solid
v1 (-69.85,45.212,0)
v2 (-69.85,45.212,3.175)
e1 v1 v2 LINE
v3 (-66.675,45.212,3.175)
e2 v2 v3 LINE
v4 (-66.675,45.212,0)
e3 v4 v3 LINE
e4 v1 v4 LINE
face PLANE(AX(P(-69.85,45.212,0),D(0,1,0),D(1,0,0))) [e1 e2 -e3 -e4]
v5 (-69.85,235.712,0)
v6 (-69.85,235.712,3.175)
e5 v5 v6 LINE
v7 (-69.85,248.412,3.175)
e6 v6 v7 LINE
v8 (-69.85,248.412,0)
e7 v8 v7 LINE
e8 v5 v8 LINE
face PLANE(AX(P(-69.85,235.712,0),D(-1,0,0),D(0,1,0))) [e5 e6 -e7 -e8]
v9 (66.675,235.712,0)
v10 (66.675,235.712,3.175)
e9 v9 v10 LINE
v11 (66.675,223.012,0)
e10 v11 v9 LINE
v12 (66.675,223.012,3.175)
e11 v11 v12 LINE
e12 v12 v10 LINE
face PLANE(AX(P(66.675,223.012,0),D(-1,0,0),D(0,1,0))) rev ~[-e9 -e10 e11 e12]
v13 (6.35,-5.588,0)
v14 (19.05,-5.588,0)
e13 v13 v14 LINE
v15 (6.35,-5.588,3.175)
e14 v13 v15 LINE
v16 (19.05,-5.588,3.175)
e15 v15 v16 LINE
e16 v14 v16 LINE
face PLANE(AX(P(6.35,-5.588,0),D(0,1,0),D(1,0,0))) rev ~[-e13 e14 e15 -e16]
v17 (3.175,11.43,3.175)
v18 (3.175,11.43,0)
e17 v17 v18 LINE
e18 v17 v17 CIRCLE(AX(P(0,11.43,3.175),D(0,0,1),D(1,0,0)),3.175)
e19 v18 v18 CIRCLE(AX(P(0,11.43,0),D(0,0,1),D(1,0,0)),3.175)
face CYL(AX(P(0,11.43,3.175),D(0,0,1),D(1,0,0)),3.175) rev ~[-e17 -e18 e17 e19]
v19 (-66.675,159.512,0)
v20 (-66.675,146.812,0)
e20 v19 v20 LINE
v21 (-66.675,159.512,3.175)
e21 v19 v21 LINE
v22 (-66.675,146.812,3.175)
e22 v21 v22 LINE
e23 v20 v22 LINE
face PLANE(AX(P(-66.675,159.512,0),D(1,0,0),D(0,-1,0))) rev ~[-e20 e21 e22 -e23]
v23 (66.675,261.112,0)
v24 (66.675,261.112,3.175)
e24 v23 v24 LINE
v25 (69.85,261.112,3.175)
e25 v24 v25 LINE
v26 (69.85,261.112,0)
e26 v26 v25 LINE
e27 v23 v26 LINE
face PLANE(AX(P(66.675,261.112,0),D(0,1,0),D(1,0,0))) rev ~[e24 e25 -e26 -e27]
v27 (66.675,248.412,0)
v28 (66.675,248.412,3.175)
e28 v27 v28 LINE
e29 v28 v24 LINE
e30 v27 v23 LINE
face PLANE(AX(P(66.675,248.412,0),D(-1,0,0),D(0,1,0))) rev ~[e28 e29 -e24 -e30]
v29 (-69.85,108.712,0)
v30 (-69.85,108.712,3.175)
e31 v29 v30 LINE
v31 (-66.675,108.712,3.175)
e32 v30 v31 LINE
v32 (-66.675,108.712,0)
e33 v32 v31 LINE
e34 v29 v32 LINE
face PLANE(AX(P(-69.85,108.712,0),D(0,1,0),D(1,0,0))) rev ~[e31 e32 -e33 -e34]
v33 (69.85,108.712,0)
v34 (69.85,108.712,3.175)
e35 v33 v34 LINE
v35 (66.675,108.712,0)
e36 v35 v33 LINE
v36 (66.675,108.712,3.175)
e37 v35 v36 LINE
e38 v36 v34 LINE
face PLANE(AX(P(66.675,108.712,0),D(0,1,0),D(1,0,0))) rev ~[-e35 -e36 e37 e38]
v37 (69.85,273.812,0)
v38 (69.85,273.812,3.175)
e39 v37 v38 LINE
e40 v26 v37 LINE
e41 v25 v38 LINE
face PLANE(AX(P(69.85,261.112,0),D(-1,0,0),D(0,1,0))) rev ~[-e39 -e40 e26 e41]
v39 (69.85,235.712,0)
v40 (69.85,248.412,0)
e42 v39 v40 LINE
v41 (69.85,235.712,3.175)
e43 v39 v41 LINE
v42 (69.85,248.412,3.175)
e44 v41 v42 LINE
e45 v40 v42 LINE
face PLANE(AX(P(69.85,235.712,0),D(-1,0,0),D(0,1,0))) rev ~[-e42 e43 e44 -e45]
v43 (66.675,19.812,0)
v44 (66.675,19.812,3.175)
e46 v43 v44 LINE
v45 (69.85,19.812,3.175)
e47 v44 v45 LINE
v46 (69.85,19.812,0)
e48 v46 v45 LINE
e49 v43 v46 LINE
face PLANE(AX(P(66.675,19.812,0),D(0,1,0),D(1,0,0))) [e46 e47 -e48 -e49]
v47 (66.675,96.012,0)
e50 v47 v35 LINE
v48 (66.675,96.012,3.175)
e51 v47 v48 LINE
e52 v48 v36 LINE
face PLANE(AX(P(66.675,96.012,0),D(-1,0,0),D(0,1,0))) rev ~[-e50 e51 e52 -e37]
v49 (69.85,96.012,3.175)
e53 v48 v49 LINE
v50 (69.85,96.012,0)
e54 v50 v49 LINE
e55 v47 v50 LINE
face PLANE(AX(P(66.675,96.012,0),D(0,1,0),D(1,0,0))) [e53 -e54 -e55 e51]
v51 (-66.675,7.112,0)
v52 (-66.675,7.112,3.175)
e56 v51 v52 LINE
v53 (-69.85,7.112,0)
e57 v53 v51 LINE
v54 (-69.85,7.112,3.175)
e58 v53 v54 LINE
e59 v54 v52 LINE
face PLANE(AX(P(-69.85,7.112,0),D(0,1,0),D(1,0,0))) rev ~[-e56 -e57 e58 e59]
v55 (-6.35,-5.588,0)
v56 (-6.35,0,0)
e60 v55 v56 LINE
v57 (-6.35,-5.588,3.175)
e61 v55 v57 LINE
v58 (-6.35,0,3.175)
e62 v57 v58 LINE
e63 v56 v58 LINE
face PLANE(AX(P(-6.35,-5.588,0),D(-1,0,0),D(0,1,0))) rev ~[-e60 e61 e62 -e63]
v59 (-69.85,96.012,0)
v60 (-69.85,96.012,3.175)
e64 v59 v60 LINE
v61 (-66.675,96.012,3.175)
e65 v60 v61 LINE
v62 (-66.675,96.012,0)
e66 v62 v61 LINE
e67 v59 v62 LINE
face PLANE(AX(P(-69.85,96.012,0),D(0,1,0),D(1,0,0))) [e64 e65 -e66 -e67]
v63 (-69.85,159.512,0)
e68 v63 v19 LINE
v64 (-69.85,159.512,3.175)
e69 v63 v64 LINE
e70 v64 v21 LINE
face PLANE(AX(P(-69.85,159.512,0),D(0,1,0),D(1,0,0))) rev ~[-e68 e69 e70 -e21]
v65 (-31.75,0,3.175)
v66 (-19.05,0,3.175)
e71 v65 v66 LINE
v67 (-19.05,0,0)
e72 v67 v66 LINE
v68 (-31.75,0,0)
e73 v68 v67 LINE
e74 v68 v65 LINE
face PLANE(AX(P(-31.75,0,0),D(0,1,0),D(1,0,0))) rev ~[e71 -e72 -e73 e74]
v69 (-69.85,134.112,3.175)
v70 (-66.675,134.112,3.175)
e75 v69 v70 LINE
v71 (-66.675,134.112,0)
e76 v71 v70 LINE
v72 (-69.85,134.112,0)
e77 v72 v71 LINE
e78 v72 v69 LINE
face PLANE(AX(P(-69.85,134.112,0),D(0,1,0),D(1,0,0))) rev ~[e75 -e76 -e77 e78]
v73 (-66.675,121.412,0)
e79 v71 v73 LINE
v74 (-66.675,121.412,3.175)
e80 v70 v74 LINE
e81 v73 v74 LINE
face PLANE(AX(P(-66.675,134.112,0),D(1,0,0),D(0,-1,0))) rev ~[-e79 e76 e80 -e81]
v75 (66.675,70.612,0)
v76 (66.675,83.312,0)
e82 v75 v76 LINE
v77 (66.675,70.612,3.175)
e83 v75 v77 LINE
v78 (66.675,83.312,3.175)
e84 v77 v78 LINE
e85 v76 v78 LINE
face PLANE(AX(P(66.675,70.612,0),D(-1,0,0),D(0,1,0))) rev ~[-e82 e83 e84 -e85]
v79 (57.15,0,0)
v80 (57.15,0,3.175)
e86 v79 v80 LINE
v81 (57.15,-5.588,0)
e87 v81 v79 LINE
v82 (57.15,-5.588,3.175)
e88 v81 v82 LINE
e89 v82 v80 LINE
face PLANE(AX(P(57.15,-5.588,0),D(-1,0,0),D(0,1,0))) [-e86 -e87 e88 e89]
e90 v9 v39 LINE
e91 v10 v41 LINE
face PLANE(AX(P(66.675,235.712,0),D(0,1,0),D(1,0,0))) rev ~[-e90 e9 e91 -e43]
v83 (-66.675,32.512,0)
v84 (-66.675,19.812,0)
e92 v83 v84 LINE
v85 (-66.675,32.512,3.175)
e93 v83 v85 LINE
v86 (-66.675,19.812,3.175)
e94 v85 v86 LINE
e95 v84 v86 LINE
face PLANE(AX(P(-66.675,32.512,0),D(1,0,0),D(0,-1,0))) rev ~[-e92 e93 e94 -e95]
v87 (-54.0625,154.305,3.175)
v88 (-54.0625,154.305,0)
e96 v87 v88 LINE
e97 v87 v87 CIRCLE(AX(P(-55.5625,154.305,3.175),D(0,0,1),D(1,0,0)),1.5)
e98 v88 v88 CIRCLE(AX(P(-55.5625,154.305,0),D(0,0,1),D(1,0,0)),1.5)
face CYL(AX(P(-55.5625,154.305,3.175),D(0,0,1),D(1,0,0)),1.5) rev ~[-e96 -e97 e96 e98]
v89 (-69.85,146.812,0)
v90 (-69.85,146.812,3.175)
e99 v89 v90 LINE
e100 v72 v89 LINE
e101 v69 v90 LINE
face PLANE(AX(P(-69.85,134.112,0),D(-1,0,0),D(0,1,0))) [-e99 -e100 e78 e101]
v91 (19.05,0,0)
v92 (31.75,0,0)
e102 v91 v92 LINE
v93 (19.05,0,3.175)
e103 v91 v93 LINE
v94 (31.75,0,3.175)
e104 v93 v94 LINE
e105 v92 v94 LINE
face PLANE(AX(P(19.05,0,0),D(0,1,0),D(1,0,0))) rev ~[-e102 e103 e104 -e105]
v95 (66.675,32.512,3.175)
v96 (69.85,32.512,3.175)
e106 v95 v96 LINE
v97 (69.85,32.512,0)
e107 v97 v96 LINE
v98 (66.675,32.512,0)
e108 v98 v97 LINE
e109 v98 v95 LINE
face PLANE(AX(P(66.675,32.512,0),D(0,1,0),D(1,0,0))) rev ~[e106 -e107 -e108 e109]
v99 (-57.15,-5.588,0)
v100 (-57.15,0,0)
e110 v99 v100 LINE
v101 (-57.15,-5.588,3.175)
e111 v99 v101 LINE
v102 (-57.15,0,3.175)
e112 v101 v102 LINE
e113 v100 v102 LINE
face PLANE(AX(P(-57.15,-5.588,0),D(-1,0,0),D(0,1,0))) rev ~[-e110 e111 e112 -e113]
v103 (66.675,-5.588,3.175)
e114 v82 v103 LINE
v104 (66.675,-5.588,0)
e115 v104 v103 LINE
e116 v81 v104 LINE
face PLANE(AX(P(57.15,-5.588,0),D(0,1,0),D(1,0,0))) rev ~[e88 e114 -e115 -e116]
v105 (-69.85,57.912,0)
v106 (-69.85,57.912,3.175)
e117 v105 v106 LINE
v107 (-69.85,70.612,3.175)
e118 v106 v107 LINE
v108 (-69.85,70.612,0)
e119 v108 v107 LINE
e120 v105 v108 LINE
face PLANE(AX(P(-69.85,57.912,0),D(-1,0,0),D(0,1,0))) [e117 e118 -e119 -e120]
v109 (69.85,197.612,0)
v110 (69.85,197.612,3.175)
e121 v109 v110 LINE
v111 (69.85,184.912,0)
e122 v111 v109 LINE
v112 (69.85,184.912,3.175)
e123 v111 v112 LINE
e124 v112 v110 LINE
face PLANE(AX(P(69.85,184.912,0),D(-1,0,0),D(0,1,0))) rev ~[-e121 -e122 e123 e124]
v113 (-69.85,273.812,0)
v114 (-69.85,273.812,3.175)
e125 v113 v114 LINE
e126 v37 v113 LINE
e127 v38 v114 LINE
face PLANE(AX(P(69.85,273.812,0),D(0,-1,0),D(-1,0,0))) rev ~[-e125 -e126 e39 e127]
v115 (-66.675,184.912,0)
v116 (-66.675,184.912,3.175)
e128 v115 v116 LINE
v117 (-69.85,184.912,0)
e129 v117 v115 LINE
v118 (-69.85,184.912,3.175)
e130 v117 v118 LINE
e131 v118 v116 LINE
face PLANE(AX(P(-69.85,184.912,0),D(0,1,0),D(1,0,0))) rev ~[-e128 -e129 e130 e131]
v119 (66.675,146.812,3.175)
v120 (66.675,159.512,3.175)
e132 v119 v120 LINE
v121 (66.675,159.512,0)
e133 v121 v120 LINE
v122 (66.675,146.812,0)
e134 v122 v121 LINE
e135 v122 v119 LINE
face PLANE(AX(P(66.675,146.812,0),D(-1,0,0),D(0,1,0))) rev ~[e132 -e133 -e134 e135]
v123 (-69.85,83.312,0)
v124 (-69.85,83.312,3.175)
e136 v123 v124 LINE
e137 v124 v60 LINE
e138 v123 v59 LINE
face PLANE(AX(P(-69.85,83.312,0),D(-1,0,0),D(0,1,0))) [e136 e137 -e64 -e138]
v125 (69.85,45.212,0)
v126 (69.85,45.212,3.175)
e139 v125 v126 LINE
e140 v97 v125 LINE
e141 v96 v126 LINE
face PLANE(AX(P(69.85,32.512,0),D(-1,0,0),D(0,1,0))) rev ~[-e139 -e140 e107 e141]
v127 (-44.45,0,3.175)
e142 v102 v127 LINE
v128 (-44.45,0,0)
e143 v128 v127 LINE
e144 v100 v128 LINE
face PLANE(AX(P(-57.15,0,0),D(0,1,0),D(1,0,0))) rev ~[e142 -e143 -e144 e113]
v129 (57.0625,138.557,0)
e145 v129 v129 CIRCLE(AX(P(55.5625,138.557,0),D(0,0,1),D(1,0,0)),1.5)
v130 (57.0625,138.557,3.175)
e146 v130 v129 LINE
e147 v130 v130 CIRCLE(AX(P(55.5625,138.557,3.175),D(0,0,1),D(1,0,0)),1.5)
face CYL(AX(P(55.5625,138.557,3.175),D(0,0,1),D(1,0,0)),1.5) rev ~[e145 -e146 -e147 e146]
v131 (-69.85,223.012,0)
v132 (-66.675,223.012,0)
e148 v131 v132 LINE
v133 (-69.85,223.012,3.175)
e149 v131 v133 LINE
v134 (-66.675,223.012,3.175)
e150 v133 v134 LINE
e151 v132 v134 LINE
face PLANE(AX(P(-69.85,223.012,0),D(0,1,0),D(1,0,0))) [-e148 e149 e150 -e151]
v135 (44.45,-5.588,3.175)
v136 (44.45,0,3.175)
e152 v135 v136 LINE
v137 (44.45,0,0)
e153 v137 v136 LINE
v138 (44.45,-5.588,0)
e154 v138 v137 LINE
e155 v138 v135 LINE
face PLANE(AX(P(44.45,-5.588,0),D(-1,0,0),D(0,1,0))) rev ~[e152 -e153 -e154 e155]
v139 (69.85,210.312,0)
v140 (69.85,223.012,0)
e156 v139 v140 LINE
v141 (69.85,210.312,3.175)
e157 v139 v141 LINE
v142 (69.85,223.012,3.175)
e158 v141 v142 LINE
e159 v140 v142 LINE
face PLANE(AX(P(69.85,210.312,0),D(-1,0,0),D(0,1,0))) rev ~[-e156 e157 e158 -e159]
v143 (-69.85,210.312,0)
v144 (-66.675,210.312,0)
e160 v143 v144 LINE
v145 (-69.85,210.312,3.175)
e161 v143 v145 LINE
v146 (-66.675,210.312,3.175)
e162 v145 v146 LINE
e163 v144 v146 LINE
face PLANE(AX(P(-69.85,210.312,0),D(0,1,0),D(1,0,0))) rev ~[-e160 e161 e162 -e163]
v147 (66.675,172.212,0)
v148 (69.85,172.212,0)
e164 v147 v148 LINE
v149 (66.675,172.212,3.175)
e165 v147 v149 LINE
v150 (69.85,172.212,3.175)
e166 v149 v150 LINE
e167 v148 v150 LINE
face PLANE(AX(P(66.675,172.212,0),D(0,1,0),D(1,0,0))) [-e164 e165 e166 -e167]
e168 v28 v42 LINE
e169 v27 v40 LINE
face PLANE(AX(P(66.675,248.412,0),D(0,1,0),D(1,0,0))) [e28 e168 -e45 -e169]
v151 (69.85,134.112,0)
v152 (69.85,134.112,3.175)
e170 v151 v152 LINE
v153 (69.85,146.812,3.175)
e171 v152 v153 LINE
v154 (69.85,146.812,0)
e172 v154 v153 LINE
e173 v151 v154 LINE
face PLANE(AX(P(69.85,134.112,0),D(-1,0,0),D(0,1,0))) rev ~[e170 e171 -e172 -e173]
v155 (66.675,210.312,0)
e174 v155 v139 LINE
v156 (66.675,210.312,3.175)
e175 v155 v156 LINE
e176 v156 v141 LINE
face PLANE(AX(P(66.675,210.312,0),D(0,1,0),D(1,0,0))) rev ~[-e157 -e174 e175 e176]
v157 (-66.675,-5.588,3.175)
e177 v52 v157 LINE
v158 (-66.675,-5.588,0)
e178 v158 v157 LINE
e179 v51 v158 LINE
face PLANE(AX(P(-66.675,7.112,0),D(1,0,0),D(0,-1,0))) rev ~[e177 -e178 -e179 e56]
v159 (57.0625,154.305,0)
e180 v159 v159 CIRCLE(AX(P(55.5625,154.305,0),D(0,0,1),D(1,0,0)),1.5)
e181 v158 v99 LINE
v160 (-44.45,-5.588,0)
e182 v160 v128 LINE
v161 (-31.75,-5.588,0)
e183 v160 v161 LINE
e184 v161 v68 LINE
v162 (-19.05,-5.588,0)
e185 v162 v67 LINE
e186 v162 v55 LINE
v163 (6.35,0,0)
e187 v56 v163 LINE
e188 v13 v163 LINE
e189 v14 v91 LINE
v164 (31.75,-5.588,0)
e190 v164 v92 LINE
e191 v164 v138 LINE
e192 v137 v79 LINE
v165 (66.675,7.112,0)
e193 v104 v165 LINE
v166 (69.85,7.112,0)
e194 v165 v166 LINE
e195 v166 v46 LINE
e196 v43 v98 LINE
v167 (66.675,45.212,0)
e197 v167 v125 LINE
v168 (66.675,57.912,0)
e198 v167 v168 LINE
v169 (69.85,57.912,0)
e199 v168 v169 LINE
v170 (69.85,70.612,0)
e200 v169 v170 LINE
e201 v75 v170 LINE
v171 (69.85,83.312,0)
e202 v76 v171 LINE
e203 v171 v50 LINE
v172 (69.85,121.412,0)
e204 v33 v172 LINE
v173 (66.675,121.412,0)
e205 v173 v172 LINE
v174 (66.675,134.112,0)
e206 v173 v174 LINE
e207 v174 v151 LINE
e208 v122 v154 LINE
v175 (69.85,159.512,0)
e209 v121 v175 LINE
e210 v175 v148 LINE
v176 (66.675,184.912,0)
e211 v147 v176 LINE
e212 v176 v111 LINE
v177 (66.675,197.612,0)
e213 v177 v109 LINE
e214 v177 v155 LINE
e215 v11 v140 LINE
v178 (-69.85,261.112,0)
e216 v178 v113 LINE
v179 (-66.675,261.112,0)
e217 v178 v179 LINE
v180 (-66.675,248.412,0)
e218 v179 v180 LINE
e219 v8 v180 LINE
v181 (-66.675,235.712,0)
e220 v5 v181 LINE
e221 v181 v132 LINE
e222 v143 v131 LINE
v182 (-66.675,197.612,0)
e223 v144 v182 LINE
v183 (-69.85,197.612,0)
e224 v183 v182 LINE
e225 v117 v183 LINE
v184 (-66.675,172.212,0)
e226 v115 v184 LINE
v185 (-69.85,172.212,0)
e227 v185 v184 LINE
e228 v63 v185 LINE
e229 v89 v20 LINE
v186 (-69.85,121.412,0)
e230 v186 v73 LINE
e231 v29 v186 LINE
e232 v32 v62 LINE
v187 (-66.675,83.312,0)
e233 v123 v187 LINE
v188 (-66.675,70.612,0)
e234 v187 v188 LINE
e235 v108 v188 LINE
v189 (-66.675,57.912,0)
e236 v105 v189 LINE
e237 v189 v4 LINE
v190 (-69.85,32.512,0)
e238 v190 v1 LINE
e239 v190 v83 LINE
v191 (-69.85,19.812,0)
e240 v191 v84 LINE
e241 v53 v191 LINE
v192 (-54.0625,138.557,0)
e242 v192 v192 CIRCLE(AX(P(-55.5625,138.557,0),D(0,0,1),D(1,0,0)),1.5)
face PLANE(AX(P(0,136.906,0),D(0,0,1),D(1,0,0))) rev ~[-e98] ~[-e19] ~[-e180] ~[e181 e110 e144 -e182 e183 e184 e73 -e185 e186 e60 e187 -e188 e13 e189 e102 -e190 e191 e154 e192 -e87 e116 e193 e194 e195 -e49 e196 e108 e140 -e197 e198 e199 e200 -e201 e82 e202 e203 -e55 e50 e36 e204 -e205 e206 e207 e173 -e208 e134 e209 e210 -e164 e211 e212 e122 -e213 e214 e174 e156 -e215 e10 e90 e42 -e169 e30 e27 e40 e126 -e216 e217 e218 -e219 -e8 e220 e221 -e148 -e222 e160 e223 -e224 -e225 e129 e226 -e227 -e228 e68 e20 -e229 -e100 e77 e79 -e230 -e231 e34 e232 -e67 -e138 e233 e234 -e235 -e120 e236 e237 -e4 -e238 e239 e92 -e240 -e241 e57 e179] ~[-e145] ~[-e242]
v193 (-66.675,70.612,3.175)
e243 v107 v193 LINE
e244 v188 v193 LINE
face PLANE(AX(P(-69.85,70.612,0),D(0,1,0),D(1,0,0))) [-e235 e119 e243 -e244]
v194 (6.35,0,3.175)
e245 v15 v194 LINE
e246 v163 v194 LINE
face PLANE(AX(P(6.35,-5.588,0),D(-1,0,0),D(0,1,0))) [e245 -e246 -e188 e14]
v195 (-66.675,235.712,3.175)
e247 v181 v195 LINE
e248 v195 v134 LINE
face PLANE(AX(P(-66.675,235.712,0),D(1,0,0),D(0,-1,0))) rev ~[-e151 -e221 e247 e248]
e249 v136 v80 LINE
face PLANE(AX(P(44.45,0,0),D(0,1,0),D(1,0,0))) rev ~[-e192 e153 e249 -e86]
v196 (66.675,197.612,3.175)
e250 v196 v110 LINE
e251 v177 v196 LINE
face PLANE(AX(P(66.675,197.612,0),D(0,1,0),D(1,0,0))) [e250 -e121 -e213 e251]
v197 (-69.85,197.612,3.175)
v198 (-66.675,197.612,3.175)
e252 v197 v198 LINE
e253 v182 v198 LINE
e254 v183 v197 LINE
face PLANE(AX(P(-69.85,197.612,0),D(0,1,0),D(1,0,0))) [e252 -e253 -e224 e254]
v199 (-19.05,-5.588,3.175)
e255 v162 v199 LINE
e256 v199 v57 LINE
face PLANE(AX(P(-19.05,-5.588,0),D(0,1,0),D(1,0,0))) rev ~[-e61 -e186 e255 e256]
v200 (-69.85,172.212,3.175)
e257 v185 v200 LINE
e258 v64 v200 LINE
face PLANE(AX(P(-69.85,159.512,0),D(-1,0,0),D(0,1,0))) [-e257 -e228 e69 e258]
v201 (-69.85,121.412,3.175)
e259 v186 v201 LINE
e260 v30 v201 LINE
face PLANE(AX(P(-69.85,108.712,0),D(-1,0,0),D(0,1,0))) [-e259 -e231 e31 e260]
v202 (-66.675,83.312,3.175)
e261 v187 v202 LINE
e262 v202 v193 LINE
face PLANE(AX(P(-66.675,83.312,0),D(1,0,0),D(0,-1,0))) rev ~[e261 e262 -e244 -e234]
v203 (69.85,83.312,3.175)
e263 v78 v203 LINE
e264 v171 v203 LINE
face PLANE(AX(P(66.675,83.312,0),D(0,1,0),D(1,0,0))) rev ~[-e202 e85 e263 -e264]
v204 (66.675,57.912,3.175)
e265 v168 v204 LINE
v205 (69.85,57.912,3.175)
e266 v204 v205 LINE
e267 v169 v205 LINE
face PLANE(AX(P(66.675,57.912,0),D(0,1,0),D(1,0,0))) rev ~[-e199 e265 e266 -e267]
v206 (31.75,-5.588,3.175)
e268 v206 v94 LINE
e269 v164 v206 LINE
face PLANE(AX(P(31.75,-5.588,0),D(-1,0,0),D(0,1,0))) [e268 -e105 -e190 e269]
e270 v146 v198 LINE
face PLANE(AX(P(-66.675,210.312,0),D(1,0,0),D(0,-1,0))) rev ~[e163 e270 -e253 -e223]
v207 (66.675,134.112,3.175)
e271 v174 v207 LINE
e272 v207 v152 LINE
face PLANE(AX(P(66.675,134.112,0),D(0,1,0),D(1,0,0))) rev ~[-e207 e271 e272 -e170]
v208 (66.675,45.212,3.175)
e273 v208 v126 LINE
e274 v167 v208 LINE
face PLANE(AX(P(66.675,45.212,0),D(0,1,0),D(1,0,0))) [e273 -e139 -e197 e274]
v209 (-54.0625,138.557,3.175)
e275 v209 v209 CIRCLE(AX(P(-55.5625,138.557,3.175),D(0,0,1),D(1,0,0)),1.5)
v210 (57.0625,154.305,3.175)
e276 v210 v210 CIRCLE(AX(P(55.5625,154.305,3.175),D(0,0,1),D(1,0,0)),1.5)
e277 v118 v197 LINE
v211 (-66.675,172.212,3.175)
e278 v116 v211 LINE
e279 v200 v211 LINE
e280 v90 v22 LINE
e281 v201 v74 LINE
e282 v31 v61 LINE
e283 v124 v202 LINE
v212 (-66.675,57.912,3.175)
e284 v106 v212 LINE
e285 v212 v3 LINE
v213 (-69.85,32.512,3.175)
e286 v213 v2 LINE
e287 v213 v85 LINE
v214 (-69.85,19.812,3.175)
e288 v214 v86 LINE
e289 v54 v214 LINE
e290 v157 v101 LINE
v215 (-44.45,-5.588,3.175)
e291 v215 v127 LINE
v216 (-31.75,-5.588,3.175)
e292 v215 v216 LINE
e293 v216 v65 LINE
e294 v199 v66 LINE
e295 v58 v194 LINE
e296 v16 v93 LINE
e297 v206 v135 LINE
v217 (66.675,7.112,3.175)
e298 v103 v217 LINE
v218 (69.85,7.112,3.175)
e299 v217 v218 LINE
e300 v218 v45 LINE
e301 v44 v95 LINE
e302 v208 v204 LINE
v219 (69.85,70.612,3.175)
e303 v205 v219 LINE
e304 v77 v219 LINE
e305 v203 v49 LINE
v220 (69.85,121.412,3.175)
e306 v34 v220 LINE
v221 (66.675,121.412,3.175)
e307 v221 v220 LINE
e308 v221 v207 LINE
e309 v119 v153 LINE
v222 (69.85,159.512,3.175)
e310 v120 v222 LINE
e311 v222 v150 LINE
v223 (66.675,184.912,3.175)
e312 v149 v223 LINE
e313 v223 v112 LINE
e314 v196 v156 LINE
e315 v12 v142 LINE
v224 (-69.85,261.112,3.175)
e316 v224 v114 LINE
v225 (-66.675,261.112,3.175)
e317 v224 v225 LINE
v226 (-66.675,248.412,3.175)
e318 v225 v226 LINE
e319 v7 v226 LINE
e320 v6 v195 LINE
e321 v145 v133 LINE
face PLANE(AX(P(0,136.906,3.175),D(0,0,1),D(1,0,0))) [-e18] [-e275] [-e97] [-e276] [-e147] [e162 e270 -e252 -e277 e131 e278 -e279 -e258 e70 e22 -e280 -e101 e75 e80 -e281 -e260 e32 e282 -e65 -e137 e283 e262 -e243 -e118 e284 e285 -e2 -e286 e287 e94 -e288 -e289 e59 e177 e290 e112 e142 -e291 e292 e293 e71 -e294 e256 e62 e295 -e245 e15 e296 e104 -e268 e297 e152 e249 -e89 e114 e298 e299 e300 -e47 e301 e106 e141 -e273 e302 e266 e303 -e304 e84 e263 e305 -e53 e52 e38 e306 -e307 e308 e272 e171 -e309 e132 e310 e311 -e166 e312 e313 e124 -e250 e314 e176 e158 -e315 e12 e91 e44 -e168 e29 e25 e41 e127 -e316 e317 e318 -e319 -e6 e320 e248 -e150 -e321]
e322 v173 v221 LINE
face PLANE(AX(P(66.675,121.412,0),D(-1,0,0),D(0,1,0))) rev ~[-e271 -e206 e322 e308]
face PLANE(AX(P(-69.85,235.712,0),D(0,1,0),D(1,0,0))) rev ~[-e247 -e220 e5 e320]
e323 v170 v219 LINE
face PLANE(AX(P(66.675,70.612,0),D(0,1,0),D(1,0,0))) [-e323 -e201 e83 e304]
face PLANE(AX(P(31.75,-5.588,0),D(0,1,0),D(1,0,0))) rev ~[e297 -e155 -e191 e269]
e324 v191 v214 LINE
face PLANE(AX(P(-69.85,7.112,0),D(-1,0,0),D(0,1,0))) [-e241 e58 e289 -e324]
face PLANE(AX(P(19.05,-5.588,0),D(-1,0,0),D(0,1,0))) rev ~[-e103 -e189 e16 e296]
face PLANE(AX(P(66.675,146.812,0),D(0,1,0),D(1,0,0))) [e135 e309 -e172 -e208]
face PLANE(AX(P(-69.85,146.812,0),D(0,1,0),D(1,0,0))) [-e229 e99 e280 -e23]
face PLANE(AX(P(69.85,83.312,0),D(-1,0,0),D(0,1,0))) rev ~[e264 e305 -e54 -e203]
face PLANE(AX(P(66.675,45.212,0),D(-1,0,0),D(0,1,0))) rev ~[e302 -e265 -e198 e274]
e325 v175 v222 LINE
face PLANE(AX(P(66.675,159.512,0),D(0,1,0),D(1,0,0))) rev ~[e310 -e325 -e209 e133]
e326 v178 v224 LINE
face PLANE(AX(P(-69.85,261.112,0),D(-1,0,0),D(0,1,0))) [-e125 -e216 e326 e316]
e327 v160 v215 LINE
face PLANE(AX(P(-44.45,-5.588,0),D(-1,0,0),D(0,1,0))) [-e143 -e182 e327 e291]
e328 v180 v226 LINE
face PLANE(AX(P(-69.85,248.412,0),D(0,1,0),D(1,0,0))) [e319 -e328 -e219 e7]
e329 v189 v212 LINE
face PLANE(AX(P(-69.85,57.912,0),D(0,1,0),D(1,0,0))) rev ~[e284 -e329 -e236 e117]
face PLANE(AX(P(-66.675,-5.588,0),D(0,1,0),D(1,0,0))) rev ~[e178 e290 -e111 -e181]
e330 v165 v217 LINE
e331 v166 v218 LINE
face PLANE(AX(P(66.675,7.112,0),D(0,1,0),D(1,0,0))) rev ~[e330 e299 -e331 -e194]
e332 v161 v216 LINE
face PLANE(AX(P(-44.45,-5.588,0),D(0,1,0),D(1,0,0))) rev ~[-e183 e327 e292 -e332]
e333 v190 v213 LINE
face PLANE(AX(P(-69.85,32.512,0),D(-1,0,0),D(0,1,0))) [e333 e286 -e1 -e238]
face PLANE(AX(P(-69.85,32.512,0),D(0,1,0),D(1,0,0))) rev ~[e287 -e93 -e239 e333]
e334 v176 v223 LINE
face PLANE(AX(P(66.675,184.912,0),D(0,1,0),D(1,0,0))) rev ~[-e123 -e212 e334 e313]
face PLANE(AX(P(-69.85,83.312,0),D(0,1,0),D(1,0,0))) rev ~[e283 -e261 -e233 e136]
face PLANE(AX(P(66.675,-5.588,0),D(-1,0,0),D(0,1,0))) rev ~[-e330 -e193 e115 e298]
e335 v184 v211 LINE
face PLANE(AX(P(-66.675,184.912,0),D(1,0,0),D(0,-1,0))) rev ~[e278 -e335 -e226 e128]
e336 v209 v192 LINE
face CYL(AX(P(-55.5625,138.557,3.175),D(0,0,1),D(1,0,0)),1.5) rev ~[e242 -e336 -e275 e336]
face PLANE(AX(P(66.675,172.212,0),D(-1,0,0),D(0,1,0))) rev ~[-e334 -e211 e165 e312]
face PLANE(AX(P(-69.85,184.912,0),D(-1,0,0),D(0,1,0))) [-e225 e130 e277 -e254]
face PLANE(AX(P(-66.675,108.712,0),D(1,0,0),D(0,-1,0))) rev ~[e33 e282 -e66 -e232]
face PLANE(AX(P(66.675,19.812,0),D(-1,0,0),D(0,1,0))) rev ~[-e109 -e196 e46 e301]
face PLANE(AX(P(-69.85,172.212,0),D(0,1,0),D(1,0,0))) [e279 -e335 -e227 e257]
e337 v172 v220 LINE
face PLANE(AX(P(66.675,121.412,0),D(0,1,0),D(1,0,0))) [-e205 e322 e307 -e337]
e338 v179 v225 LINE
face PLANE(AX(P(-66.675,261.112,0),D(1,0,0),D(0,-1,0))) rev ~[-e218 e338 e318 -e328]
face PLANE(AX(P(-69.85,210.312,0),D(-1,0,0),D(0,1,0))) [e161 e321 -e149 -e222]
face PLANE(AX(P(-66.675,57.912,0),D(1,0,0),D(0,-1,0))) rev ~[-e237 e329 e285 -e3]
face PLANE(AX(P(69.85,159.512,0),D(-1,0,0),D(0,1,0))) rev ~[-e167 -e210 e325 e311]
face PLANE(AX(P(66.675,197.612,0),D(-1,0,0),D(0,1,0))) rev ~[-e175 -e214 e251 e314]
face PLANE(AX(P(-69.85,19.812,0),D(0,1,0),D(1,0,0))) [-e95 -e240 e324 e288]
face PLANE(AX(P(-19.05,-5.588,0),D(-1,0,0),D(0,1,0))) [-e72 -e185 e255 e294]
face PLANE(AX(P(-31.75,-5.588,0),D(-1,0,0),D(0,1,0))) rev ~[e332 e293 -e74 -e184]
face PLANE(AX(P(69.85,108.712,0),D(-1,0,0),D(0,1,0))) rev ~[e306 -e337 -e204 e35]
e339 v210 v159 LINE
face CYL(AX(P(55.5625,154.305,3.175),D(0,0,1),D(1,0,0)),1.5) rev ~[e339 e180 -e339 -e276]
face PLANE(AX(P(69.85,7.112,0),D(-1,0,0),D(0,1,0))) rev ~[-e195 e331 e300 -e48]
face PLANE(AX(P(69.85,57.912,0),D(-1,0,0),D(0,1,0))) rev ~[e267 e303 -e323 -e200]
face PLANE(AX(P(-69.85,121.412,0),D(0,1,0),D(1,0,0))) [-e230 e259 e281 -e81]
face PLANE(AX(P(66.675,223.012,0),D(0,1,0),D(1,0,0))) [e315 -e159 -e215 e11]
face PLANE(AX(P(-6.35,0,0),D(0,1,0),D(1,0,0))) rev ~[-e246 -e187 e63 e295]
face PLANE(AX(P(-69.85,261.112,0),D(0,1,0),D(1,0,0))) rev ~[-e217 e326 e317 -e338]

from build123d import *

# Parameters (mm, degrees)
SKETCH1_W           = 3.175
SKETCH1_H           = 12.7
SKETCH1_W_2         = 9.525
SKETCH1_H_2         = 5.588
SKETCH1_W_3         = 12.7
BOSS_EXTRUDE1_DEPTH = 3.175
SKETCH2_R           = 3.175
CUT_EXTRUDE1_DEPTH  = 4.175
SKETCH3_R           = 1.5
CUT_EXTRUDE2_DEPTH  = 4.175


with BuildPart() as part:
    # Sketch1 → Boss-Extrude1 (new body)
    with BuildSketch(Plane.XY):
        Polygon((-66.675, 273.812), (-66.675, 261.112), (-66.675, 248.412), (-66.675, 235.712), (-66.675, 223.012), (-66.675, 210.312), (-66.675, 197.612), (-66.675, 184.912), (-66.675, 172.212), (-66.675, 159.512), (-66.675, 146.812), (-66.675, 134.112), (-66.675, 121.412), (-66.675, 108.712), (-66.675, 96.012), (-66.675, 83.312), (-66.675, 70.612), (-66.675, 57.912), (-66.675, 45.212), (-66.675, 32.512), (-66.675, 19.812), (-66.675, 7.112), (-66.675, 0), (-57.15, 0), (-44.45, 0), (-31.75, 0), (-19.05, 0), (-6.35, 0), (6.35, 0), (19.05, 0), (31.75, 0), (44.45, 0), (57.15, 0), (66.675, 0), (66.675, 7.112), (66.675, 19.812), (66.675, 32.512), (66.675, 45.212), (66.675, 57.912), (66.675, 70.612), (66.675, 83.312), (66.675, 96.012), (66.675, 108.712), (66.675, 121.412), (66.675, 134.112), (66.675, 146.812), (66.675, 159.512), (66.675, 172.212), (66.675, 184.912), (66.675, 197.612), (66.675, 210.312), (66.675, 223.012), (66.675, 235.712), (66.675, 248.412), (66.675, 261.112), (66.675, 273.812), align=None)
        with Locations((-68.2625, 13.462)):
            Rectangle(SKETCH1_W, SKETCH1_H)
        with Locations((-68.2625, 38.862)):
            Rectangle(SKETCH1_W, SKETCH1_H)
        with Locations((-68.2625, 64.262)):
            Rectangle(SKETCH1_W, SKETCH1_H)
        with Locations((-68.2625, 89.662)):
            Rectangle(SKETCH1_W, SKETCH1_H)
        with Locations((-61.9125, -2.794)):
            Rectangle(SKETCH1_W_2, SKETCH1_H_2)
        with Locations((-38.1, -2.794)):
            Rectangle(SKETCH1_W_3, SKETCH1_H_2)
        with Locations((-12.7, -2.794)):
            Rectangle(SKETCH1_W_3, SKETCH1_H_2)
        with Locations((12.7, -2.794)):
            Rectangle(SKETCH1_W_3, SKETCH1_H_2)
        with Locations((38.1, -2.794)):
            Rectangle(SKETCH1_W_3, SKETCH1_H_2)
        with Locations((61.9125, -2.794)):
            Rectangle(SKETCH1_W_2, SKETCH1_H_2)
        with Locations((68.2625, 13.462)):
            Rectangle(SKETCH1_W, SKETCH1_H)
        with Locations((68.2625, 38.862)):
            Rectangle(SKETCH1_W, SKETCH1_H)
        with Locations((68.2625, 64.262)):
            Rectangle(SKETCH1_W, SKETCH1_H)
        with Locations((68.2625, 89.662)):
            Rectangle(SKETCH1_W, SKETCH1_H)
        with Locations((68.2625, 115.062)):
            Rectangle(SKETCH1_W, SKETCH1_H)
        with Locations((-68.2625, 115.062)):
            Rectangle(SKETCH1_W, SKETCH1_H)
        with Locations((-68.2625, 140.462)):
            Rectangle(SKETCH1_W, SKETCH1_H)
        with Locations((-68.2625, 165.862)):
            Rectangle(SKETCH1_W, SKETCH1_H)
        with Locations((-68.2625, 191.262)):
            Rectangle(SKETCH1_W, SKETCH1_H)
        with Locations((-68.2625, 216.662)):
            Rectangle(SKETCH1_W, SKETCH1_H)
        with Locations((-68.2625, 242.062)):
            Rectangle(SKETCH1_W, SKETCH1_H)
        with Locations((-68.2625, 267.462)):
            Rectangle(SKETCH1_W, SKETCH1_H)
        with Locations((68.2625, 140.462)):
            Rectangle(SKETCH1_W, SKETCH1_H)
        with Locations((68.2625, 165.862)):
            Rectangle(SKETCH1_W, SKETCH1_H)
        with Locations((68.2625, 191.262)):
            Rectangle(SKETCH1_W, SKETCH1_H)
        with Locations((68.2625, 216.662)):
            Rectangle(SKETCH1_W, SKETCH1_H)
        with Locations((68.2625, 242.062)):
            Rectangle(SKETCH1_W, SKETCH1_H)
        with Locations((68.2625, 267.462)):
            Rectangle(SKETCH1_W, SKETCH1_H)
    extrude(amount=BOSS_EXTRUDE1_DEPTH)

    # Sketch2 → Cut-Extrude1 (cut, through all)
    with BuildSketch(Plane.XY.offset(3.175)):
        with Locations((0, 11.43)):
            Circle(SKETCH2_R)
    extrude(amount=-CUT_EXTRUDE1_DEPTH, mode=Mode.SUBTRACT)

    # Sketch3 → Cut-Extrude2 (cut, through all)
    with BuildSketch(Plane.XY.offset(3.175)):
        with Locations((-55.5625, 154.305)):
            Circle(SKETCH3_R)
        with Locations((-55.5625, 138.557)):
            Circle(SKETCH3_R)
        with Locations((55.5625, 154.305)):
            Circle(SKETCH3_R)
        with Locations((55.5625, 138.557)):
            Circle(SKETCH3_R)
    extrude(amount=-CUT_EXTRUDE2_DEPTH, mode=Mode.SUBTRACT)


solid = part.part
